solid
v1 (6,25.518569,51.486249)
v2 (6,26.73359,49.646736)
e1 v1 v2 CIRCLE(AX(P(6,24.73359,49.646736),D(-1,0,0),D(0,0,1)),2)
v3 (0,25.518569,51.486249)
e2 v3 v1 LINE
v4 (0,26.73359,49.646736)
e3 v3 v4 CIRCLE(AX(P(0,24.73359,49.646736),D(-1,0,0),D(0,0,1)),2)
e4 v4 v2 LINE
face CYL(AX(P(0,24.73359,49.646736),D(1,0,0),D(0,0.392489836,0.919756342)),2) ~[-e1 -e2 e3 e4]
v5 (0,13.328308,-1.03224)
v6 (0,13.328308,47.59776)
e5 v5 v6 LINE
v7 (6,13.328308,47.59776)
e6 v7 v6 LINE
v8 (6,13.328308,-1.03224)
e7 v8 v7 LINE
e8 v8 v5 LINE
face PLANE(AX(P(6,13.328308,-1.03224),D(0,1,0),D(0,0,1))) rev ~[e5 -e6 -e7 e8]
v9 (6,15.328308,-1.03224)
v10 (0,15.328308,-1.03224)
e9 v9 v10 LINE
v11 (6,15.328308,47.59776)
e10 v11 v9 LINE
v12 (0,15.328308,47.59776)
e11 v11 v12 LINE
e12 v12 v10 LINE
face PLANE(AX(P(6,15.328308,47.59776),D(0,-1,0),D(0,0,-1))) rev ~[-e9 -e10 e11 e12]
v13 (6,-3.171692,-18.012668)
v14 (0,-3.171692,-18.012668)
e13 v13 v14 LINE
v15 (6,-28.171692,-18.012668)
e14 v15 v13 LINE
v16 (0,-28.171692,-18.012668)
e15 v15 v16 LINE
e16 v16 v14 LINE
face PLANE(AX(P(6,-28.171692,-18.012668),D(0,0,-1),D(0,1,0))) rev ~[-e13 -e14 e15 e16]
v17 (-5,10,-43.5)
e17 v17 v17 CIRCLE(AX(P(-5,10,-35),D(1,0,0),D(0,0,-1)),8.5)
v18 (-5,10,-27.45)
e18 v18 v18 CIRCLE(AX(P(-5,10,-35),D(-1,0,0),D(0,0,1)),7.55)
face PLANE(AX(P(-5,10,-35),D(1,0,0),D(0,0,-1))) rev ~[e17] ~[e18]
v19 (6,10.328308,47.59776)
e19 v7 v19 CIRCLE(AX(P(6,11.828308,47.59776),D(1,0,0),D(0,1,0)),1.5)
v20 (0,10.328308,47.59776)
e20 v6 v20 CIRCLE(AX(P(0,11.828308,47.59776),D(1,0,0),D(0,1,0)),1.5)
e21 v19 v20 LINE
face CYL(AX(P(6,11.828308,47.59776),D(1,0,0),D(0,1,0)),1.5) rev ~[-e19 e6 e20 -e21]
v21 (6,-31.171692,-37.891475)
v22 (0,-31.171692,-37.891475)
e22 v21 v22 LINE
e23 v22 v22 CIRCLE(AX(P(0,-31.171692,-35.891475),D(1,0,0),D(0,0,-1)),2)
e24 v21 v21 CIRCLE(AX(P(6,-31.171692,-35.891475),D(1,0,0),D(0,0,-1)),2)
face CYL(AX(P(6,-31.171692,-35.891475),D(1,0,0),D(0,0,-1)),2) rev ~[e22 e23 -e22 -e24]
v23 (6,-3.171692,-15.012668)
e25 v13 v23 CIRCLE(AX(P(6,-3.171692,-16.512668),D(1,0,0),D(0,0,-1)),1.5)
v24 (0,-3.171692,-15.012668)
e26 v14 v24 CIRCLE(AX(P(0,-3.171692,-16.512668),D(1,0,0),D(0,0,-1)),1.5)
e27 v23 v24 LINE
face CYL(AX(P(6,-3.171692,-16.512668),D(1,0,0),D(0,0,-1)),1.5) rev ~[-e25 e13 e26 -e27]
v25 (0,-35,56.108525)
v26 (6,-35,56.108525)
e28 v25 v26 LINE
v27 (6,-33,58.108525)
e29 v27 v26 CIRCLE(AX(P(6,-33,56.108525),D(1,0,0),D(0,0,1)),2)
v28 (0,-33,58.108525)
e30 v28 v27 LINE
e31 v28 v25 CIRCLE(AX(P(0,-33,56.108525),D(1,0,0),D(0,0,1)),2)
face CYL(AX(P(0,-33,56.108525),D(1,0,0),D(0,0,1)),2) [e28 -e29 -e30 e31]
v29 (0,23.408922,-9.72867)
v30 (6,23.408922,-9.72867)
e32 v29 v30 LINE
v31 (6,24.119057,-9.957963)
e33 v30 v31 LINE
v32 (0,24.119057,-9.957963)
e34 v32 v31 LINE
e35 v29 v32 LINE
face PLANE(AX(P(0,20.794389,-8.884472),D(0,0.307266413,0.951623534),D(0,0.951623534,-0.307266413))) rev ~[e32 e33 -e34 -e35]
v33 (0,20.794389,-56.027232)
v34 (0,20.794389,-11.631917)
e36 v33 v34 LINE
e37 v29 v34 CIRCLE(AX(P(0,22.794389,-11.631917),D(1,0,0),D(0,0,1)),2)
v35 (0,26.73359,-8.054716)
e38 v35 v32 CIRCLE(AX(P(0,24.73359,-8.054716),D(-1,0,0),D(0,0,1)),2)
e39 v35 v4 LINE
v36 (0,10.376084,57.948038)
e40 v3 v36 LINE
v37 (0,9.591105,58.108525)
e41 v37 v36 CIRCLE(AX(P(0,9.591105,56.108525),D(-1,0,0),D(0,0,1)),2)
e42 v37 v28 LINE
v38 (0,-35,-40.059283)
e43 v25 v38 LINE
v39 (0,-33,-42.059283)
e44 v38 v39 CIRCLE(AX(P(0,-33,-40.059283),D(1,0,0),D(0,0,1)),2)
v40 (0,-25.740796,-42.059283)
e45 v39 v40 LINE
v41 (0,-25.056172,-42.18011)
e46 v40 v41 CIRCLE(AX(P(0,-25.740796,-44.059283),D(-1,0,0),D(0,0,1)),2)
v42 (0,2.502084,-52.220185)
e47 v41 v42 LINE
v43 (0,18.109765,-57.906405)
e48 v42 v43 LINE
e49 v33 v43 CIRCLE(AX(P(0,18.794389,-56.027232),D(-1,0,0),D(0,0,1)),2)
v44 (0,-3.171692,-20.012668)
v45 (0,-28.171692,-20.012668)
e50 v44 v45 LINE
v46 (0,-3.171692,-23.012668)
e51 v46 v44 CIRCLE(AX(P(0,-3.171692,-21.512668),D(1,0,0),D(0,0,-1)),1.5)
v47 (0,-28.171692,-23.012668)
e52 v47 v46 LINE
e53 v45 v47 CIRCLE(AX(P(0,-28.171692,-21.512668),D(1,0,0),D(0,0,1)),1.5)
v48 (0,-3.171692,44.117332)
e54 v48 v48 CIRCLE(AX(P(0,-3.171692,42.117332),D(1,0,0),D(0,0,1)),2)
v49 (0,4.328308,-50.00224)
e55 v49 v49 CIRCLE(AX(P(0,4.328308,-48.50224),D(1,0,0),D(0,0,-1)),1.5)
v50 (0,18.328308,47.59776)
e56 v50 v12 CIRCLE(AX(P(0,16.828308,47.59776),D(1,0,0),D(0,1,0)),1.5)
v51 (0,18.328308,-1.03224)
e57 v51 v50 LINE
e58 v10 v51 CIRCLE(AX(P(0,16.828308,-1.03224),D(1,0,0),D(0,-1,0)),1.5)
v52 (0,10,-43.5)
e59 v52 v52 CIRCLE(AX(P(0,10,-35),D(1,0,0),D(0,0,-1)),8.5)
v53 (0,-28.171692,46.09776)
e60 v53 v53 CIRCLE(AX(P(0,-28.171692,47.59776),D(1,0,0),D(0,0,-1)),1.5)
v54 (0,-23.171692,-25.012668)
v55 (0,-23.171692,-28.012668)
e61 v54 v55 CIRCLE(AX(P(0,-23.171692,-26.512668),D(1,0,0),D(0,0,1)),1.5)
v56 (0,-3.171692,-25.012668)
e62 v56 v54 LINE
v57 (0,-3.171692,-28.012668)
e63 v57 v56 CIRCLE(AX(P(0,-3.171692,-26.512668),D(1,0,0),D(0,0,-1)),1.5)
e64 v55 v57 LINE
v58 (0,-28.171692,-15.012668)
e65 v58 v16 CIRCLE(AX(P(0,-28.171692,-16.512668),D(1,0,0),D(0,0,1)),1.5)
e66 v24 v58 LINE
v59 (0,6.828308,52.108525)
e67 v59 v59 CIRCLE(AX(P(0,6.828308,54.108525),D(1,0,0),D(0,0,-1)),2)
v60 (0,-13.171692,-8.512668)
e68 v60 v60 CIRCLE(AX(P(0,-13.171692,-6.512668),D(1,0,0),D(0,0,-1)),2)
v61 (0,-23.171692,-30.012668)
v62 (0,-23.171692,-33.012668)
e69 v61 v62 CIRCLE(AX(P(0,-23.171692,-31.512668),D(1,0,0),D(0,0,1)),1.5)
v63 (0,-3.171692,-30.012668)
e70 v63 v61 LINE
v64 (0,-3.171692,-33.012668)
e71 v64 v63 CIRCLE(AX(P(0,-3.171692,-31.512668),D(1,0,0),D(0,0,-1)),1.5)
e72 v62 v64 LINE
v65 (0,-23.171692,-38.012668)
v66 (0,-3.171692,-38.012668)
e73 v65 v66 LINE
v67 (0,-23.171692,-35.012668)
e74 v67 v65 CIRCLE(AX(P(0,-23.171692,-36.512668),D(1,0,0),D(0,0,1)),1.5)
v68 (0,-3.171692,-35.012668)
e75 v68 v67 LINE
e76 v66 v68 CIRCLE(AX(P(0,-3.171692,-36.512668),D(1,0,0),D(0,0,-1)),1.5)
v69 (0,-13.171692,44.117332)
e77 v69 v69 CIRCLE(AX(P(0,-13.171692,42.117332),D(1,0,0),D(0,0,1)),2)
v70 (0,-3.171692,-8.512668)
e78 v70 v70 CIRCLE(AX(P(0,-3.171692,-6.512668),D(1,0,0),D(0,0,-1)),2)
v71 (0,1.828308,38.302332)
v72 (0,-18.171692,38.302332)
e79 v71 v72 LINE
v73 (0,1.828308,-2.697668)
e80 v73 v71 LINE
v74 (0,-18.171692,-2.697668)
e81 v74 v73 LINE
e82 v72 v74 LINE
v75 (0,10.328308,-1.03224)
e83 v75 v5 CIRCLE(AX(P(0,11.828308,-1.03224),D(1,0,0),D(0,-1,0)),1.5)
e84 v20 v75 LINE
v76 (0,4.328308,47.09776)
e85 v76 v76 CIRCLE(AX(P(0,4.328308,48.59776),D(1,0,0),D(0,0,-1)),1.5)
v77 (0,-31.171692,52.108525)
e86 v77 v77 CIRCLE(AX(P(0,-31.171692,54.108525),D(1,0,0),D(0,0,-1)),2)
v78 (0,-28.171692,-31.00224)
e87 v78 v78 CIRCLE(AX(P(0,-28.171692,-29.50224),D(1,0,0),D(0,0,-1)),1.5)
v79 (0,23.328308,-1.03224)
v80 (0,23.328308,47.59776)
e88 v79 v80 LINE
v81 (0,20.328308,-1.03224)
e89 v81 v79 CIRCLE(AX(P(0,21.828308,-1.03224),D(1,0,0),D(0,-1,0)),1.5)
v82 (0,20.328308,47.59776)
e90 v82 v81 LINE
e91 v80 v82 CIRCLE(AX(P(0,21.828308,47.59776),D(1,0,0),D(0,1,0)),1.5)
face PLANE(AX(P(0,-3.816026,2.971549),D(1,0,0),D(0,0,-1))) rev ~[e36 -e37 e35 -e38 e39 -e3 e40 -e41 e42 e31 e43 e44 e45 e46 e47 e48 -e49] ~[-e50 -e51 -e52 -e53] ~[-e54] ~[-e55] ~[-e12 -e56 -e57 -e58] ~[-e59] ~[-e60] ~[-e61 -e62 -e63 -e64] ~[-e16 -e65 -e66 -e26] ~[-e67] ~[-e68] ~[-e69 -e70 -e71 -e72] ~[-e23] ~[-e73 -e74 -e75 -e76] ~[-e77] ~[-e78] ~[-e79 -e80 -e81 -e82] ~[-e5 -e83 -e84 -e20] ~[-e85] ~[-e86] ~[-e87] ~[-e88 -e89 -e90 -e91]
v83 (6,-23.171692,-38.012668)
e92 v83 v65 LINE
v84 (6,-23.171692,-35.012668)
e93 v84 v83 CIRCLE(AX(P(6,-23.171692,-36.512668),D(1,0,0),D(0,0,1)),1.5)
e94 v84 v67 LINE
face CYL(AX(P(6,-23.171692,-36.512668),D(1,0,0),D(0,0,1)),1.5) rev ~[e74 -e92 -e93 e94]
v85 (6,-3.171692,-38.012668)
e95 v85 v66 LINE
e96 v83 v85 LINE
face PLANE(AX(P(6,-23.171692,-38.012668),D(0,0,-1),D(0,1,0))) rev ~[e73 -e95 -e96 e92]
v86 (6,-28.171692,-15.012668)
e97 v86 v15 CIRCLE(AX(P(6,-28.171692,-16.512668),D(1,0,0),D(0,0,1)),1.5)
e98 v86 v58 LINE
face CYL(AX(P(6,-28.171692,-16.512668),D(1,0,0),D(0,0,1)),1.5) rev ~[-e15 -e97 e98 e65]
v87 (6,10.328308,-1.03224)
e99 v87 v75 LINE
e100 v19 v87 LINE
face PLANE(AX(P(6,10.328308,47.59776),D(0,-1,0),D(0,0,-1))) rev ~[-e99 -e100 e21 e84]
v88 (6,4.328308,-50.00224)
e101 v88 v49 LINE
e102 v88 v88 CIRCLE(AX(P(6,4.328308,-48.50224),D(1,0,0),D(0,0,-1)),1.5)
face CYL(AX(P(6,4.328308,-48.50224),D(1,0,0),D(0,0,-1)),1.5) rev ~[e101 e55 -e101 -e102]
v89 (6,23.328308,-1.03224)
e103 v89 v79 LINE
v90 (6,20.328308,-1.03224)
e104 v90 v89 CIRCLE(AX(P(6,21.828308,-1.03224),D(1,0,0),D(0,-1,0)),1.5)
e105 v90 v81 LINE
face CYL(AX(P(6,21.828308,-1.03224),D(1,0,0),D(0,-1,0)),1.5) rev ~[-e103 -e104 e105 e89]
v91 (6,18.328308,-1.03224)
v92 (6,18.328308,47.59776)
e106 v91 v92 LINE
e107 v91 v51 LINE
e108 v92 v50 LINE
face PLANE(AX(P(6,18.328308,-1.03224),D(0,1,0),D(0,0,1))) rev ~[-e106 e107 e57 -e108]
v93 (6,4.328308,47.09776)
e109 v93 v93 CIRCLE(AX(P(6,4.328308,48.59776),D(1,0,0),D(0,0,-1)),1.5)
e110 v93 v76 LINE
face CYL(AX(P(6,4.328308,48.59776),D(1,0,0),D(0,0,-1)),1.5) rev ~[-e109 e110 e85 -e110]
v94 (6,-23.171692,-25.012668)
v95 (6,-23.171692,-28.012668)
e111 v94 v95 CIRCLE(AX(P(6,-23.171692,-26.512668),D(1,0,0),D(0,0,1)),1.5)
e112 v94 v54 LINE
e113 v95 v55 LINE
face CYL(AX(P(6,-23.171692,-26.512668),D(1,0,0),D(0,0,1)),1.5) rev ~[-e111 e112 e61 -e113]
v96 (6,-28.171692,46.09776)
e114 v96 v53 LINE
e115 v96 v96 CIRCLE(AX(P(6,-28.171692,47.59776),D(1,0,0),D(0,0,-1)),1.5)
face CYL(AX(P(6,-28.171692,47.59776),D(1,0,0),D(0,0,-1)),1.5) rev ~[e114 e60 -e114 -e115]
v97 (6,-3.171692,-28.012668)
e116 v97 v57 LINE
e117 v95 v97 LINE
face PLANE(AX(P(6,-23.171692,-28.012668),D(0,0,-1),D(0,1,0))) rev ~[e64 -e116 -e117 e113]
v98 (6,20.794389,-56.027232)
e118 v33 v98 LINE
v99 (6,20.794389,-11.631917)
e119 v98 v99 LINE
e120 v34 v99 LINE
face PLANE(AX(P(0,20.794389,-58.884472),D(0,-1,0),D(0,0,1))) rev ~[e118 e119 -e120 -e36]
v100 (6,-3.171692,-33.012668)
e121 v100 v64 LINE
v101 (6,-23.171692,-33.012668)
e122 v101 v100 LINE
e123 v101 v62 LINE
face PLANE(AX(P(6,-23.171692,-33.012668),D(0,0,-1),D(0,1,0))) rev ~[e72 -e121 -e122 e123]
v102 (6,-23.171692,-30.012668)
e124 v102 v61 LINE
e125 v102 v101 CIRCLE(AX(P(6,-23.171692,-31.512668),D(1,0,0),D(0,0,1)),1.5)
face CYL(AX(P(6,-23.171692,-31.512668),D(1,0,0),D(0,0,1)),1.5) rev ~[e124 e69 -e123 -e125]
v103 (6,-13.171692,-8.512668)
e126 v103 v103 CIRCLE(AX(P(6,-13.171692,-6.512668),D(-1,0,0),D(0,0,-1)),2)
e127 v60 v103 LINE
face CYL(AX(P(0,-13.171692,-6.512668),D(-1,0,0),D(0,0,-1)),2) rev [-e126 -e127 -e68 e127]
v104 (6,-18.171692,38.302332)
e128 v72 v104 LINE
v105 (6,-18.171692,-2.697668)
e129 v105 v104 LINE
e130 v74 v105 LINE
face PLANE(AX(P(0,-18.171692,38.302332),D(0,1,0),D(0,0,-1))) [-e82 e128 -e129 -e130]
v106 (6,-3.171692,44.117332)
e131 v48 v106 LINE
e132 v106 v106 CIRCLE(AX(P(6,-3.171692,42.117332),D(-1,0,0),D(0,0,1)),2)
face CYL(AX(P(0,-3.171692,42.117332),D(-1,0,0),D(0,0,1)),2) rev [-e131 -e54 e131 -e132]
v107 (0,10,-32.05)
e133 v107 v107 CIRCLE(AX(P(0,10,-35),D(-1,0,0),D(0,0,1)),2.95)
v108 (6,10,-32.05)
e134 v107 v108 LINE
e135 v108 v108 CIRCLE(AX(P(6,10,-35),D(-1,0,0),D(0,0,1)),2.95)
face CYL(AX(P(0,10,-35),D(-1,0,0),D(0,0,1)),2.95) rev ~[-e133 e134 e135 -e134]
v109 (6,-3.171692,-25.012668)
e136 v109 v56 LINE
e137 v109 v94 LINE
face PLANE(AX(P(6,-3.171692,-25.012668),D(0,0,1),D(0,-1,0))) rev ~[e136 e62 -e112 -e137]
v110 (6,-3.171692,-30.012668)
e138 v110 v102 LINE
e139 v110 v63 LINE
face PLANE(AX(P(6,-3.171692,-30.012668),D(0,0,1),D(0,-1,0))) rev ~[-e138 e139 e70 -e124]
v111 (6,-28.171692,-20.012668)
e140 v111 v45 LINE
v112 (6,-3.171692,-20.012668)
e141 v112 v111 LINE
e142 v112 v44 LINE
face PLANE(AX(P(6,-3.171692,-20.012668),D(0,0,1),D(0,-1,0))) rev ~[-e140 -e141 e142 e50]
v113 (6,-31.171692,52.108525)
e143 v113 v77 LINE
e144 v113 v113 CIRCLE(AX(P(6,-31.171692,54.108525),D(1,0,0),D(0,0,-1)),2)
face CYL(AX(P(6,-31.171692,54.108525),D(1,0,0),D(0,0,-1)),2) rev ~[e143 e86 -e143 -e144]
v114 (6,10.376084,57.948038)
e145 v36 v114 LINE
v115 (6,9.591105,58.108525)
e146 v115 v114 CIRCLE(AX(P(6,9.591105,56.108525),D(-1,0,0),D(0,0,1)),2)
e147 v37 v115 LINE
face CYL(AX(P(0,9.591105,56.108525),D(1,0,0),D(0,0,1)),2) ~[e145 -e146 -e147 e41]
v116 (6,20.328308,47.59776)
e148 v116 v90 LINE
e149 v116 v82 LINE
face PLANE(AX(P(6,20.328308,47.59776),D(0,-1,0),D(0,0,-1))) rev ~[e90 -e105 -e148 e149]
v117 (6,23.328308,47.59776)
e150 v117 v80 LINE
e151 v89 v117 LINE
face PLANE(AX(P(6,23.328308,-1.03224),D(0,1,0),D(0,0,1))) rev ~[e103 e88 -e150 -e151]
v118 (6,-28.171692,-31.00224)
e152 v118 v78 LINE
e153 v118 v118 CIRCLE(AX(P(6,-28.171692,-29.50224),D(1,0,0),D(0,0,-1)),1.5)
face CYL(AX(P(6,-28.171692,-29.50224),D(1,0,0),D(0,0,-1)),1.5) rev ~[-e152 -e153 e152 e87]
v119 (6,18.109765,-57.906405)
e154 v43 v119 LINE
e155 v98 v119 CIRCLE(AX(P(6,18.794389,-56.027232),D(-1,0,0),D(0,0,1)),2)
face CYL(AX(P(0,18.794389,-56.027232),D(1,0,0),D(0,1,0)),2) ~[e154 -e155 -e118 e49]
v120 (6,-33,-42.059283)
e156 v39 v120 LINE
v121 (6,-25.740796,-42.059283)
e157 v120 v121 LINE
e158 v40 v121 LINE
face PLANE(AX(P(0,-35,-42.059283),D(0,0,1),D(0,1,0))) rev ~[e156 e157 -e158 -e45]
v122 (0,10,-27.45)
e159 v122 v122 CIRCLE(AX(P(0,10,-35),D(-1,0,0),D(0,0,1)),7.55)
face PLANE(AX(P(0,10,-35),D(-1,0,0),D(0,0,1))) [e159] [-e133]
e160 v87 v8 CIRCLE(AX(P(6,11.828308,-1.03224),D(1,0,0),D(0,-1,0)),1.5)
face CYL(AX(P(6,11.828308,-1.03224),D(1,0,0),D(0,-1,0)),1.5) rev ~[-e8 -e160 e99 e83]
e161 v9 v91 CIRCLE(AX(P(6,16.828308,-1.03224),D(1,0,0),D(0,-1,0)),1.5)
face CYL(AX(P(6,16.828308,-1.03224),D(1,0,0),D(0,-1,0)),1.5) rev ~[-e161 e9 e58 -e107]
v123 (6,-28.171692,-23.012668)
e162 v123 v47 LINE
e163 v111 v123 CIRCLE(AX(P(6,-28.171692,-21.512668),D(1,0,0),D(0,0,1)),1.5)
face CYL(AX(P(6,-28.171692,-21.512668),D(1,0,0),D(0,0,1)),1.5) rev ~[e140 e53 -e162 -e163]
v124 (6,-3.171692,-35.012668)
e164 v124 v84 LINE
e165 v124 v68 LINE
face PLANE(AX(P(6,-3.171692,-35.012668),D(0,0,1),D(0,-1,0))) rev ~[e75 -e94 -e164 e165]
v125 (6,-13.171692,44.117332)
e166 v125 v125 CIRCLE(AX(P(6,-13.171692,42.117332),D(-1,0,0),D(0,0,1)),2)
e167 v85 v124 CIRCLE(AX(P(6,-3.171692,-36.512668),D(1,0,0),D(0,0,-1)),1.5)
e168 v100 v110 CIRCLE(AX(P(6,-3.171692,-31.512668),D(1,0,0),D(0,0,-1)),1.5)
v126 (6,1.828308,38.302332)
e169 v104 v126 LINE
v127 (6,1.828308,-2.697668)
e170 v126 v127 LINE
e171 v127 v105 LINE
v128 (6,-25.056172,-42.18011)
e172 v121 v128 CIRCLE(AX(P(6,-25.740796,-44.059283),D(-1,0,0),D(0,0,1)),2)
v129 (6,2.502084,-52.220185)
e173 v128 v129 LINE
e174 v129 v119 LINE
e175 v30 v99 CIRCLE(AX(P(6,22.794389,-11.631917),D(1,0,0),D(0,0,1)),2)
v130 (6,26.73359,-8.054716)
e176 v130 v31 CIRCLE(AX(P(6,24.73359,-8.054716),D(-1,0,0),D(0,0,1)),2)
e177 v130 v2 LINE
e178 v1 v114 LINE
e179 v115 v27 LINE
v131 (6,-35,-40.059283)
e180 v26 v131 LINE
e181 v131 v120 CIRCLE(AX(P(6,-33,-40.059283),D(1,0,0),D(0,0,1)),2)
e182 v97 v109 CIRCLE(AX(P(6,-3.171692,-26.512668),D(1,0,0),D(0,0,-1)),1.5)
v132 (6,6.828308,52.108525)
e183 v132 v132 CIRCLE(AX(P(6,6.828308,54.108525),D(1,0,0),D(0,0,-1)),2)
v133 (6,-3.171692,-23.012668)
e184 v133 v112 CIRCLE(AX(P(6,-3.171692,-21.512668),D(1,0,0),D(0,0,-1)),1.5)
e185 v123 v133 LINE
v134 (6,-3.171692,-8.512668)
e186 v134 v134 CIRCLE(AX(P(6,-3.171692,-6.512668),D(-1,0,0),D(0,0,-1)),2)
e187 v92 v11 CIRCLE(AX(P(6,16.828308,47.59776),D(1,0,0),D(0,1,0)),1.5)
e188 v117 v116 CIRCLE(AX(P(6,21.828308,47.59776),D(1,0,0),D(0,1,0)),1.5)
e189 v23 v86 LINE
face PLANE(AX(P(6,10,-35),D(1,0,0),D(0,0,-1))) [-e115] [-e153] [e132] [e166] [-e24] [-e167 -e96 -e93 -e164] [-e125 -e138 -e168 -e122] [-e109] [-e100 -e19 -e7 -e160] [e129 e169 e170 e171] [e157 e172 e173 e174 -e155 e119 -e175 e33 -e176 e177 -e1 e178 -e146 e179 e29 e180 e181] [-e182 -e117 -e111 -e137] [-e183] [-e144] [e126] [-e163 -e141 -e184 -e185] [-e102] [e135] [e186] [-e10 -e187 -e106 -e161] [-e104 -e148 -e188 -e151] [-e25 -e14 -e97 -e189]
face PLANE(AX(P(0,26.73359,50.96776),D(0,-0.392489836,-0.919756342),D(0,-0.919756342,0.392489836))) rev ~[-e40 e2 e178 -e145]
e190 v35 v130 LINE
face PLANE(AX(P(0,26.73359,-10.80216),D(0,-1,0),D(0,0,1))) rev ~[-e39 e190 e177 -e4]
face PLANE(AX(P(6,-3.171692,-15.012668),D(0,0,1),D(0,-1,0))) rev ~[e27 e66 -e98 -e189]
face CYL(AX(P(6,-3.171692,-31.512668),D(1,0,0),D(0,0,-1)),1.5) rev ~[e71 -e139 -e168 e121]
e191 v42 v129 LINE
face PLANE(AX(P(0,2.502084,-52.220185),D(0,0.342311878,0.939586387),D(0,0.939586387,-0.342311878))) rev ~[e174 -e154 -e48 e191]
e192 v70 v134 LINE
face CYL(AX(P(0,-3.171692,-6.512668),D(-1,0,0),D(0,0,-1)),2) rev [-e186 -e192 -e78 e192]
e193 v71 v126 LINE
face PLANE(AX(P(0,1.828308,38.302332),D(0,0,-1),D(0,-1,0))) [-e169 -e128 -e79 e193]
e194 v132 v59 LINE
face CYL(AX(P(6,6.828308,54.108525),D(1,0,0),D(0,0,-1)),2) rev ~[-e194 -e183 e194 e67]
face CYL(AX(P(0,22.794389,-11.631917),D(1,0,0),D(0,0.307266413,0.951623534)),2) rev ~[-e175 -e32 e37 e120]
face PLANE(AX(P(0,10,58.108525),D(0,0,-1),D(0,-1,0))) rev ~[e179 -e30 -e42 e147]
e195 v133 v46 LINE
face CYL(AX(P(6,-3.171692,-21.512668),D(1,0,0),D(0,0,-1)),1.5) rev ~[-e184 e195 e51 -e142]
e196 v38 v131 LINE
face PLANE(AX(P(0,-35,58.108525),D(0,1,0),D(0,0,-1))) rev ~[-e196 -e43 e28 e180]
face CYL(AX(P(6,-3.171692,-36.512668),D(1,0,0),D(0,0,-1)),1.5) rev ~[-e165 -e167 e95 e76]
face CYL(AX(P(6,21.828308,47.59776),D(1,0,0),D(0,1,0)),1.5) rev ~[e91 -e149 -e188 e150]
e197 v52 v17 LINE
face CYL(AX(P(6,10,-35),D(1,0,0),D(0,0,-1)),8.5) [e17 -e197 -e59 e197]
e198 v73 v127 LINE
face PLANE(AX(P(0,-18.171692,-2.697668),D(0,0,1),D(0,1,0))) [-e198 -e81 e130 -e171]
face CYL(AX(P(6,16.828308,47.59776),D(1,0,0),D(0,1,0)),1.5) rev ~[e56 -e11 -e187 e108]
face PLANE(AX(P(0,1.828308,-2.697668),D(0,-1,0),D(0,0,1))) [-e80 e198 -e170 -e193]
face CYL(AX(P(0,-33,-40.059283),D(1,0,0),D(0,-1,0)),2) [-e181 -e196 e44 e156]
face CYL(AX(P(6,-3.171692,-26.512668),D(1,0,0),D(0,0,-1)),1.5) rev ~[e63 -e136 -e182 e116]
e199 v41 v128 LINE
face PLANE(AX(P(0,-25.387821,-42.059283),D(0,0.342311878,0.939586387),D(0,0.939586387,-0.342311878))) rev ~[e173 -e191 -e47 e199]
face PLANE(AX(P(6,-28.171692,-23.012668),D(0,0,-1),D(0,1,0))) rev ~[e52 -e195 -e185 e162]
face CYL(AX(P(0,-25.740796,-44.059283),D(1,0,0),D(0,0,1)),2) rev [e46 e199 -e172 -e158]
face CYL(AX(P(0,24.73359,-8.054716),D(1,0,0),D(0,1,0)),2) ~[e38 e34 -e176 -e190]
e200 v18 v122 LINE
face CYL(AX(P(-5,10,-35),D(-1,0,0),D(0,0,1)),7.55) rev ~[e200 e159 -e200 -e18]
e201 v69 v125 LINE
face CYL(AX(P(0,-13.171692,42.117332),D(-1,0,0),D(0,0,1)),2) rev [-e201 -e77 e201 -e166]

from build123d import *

# Parameters (mm, degrees)
EXTRUDE_1_DEPTH     = 6
SKETCH_2_R          = 2
CUT_EXTRUDE_1_DEPTH = 10
SKETCH_4_R          = 1.5
CUT_EXTRUDE_2_DEPTH = 6
SKETCH_7_R          = 2
SKETCH_7_R_2        = 1.5
CUT_EXTRUDE_3_DEPTH = 6
SKETCH_5_R          = 8.5
EXTRUDE_4_DEPTH     = 11
FILLET_1_R          = 2
SKETCH_8_R          = 7.55
CUT_EXTRUDE_4_DEPTH = 5
SKETCH_9_R          = 2.95
CUT_EXTRUDE_5_DEPTH = 6


with BuildPart() as part:
    # 草图1 → 凸台-拉伸1 (new body)
    with BuildSketch(Plane(origin=(0, 0, 0), x_dir=(0, 0, -1), z_dir=(1, 0, 0))):
        Polygon((-58.108525398, 10), (-58.108525398, -35), (42.059282617, -35), (42.059282617, -30.677521513), (42.059282617, -25.387821403), (52.220185328, 2.502083897), (58.88447221, 20.794388757), (53.88447221, 20.794388757), (8.88447221, 20.794388757), (10.802160114, 26.733589605), (-8.108525398, 26.733589605), (-50.96776046, 26.733589605), align=None)
    extrude(amount=EXTRUDE_1_DEPTH)

    # 草图2 → 切除-拉伸1 (cut)
    with BuildSketch(Plane(origin=(0, 0, 0), x_dir=(0, 0, -1), z_dir=(1, 0, 0))):
        with Locations((6.512667985, -3.171691559)):
            Circle(SKETCH_2_R)
        with Locations((6.512667985, -13.171691559)):
            Circle(SKETCH_2_R)
        with Locations(Location((-42.117332015, -13.171691559, 0), (0, 0, 180))):
            Circle(SKETCH_2_R)
        with Locations(Location((-42.117332015, -3.171691559, 0), (0, 0, 180))):
            Circle(SKETCH_2_R)
        Polygon((-17.802332015, 1.828308441), (-38.302332015, 1.828308441), (-38.302332015, -18.171691559), (-17.802332015, -18.171691559), (2.697667985, -18.171691559), (2.697667985, 1.828308441), align=None)
    extrude(amount=CUT_EXTRUDE_1_DEPTH, mode=Mode.SUBTRACT)

    # 草图4 → 切除-拉伸2 (cut)
    with BuildSketch(Plane(origin=(6, 0, 0), x_dir=(0, 0, -1), z_dir=(1, 0, 0))):
        with Locations((-48.59776046, 4.328308441)):
            Circle(SKETCH_4_R)
        with Locations((48.50223954, 4.328308441)):
            Circle(SKETCH_4_R)
    extrude(amount=-CUT_EXTRUDE_2_DEPTH, mode=Mode.SUBTRACT)

    # 草图7 → 切除-拉伸3 (cut)
    with BuildSketch(Plane(origin=(6, 0, 0), x_dir=(0, 0, -1), z_dir=(1, 0, 0))):
        with Locations((-54.108525398, 6.828308441)):
            Circle(SKETCH_7_R)
        with Locations((35.891474602, -31.171691559)):
            Circle(SKETCH_7_R)
        with Locations((-54.108525398, -31.171691559)):
            Circle(SKETCH_7_R)
        with BuildLine():
            Line((1.03223954, 18.328308441), (-47.59776046, 18.328308441))
            ThreePointArc((-47.59776046, 18.328308441), (-49.09776046, 16.828308441), (-47.59776046, 15.328308441))
            Line((-47.59776046, 15.328308441), (1.03223954, 15.328308441))
            ThreePointArc((1.03223954, 15.328308441), (2.53223954, 16.828308441), (1.03223954, 18.328308441))
        make_face()
        with BuildLine():
            Line((1.03223954, 23.328308441), (-47.59776046, 23.328308441))
            ThreePointArc((-47.59776046, 23.328308441), (-49.09776046, 21.828308441), (-47.59776046, 20.328308441))
            Line((-47.59776046, 20.328308441), (1.03223954, 20.328308441))
            ThreePointArc((1.03223954, 20.328308441), (2.53223954, 21.828308441), (1.03223954, 23.328308441))
        make_face()
        with BuildLine():
            Line((1.03223954, 13.328308441), (-47.59776046, 13.328308441))
            ThreePointArc((-47.59776046, 13.328308441), (-49.09776046, 11.828308441), (-47.59776046, 10.328308441))
            Line((-47.59776046, 10.328308441), (1.03223954, 10.328308441))
            ThreePointArc((1.03223954, 10.328308441), (2.53223954, 11.828308441), (1.03223954, 13.328308441))
        make_face()
        with BuildLine():
            ThreePointArc((18.012667985, -3.171691559), (16.512667985, -1.671691559), (15.012667985, -3.171691559))
            Line((15.012667985, -3.171691559), (15.012667985, -28.171691559))
            ThreePointArc((15.012667985, -28.171691559), (16.512667985, -29.671691559), (18.012667985, -28.171691559))
            Line((18.012667985, -28.171691559), (18.012667985, -3.171691559))
        make_face()
        with BuildLine():
            ThreePointArc((23.012667985, -3.171691559), (21.512667985, -1.671691559), (20.012667985, -3.171691559))
            Line((20.012667985, -3.171691559), (20.012667985, -28.171691559))
            ThreePointArc((20.012667985, -28.171691559), (21.512667985, -29.671691559), (23.012667985, -28.171691559))
            Line((23.012667985, -28.171691559), (23.012667985, -3.171691559))
        make_face()
        with BuildLine():
            ThreePointArc((38.012667985, -3.171691559), (36.512667985, -1.671691559), (35.012667985, -3.171691559))
            Line((35.012667985, -3.171691559), (35.012667985, -23.171691559))
            ThreePointArc((35.012667985, -23.171691559), (36.512667985, -24.671691559), (38.012667985, -23.171691559))
            Line((38.012667985, -23.171691559), (38.012667985, -3.171691559))
        make_face()
        with BuildLine():
            ThreePointArc((28.012667985, -3.171691559), (26.512667985, -1.671691559), (25.012667985, -3.171691559))
            Line((25.012667985, -3.171691559), (25.012667985, -23.171691559))
            ThreePointArc((25.012667985, -23.171691559), (26.512667985, -24.671691559), (28.012667985, -23.171691559))
            Line((28.012667985, -23.171691559), (28.012667985, -3.171691559))
        make_face()
        with BuildLine():
            ThreePointArc((33.012667985, -3.171691559), (31.512667985, -1.671691559), (30.012667985, -3.171691559))
            Line((30.012667985, -3.171691559), (30.012667985, -23.171691559))
            ThreePointArc((30.012667985, -23.171691559), (31.512667985, -24.671691559), (33.012667985, -23.171691559))
            Line((33.012667985, -23.171691559), (33.012667985, -3.171691559))
        make_face()
        with Locations((-47.59776046, -28.171691559)):
            Circle(SKETCH_7_R_2)
        with Locations((29.50223954, -28.171691559)):
            Circle(SKETCH_7_R_2)
    extrude(amount=-CUT_EXTRUDE_3_DEPTH, mode=Mode.SUBTRACT)

    # 草图5 → 凸台-拉伸4 (add)
    with BuildSketch(Plane(origin=(6, 0, 0), x_dir=(0, 0, -1), z_dir=(1, 0, 0))):
        with Locations((35, 10)):
            Circle(SKETCH_5_R)
    extrude(amount=-EXTRUDE_4_DEPTH)

    # 圆角1
    fillet_1_edges = [part.edges().sort_by_distance(p)[0] for p in [
        (3, 10, 58.108525398),
        (3, 26.733589605, 50.96776046),
        (3, 26.733589605, -10.802160114),
        (3, 20.794388757, -8.88447221),
        (3, 20.794388757, -58.88447221),
        (3, -25.387821403, -42.059282617),
        (3, -35, -42.059282617),
        (3, -35, 58.108525398),
    ]]
    fillet(fillet_1_edges, radius=FILLET_1_R)

    # 草图8 → 切除-拉伸4 (cut)
    with BuildSketch(Plane.ZY.offset(5)):
        with Locations((-35, 10)):
            Circle(SKETCH_8_R)
    extrude(amount=-CUT_EXTRUDE_4_DEPTH, mode=Mode.SUBTRACT)

    # 草图9 → 切除-拉伸5 (cut)
    with BuildSketch(Plane.ZY):
        with Locations((-35, 10)):
            Circle(SKETCH_9_R)
    extrude(amount=-CUT_EXTRUDE_5_DEPTH, mode=Mode.SUBTRACT)


solid = part.part
